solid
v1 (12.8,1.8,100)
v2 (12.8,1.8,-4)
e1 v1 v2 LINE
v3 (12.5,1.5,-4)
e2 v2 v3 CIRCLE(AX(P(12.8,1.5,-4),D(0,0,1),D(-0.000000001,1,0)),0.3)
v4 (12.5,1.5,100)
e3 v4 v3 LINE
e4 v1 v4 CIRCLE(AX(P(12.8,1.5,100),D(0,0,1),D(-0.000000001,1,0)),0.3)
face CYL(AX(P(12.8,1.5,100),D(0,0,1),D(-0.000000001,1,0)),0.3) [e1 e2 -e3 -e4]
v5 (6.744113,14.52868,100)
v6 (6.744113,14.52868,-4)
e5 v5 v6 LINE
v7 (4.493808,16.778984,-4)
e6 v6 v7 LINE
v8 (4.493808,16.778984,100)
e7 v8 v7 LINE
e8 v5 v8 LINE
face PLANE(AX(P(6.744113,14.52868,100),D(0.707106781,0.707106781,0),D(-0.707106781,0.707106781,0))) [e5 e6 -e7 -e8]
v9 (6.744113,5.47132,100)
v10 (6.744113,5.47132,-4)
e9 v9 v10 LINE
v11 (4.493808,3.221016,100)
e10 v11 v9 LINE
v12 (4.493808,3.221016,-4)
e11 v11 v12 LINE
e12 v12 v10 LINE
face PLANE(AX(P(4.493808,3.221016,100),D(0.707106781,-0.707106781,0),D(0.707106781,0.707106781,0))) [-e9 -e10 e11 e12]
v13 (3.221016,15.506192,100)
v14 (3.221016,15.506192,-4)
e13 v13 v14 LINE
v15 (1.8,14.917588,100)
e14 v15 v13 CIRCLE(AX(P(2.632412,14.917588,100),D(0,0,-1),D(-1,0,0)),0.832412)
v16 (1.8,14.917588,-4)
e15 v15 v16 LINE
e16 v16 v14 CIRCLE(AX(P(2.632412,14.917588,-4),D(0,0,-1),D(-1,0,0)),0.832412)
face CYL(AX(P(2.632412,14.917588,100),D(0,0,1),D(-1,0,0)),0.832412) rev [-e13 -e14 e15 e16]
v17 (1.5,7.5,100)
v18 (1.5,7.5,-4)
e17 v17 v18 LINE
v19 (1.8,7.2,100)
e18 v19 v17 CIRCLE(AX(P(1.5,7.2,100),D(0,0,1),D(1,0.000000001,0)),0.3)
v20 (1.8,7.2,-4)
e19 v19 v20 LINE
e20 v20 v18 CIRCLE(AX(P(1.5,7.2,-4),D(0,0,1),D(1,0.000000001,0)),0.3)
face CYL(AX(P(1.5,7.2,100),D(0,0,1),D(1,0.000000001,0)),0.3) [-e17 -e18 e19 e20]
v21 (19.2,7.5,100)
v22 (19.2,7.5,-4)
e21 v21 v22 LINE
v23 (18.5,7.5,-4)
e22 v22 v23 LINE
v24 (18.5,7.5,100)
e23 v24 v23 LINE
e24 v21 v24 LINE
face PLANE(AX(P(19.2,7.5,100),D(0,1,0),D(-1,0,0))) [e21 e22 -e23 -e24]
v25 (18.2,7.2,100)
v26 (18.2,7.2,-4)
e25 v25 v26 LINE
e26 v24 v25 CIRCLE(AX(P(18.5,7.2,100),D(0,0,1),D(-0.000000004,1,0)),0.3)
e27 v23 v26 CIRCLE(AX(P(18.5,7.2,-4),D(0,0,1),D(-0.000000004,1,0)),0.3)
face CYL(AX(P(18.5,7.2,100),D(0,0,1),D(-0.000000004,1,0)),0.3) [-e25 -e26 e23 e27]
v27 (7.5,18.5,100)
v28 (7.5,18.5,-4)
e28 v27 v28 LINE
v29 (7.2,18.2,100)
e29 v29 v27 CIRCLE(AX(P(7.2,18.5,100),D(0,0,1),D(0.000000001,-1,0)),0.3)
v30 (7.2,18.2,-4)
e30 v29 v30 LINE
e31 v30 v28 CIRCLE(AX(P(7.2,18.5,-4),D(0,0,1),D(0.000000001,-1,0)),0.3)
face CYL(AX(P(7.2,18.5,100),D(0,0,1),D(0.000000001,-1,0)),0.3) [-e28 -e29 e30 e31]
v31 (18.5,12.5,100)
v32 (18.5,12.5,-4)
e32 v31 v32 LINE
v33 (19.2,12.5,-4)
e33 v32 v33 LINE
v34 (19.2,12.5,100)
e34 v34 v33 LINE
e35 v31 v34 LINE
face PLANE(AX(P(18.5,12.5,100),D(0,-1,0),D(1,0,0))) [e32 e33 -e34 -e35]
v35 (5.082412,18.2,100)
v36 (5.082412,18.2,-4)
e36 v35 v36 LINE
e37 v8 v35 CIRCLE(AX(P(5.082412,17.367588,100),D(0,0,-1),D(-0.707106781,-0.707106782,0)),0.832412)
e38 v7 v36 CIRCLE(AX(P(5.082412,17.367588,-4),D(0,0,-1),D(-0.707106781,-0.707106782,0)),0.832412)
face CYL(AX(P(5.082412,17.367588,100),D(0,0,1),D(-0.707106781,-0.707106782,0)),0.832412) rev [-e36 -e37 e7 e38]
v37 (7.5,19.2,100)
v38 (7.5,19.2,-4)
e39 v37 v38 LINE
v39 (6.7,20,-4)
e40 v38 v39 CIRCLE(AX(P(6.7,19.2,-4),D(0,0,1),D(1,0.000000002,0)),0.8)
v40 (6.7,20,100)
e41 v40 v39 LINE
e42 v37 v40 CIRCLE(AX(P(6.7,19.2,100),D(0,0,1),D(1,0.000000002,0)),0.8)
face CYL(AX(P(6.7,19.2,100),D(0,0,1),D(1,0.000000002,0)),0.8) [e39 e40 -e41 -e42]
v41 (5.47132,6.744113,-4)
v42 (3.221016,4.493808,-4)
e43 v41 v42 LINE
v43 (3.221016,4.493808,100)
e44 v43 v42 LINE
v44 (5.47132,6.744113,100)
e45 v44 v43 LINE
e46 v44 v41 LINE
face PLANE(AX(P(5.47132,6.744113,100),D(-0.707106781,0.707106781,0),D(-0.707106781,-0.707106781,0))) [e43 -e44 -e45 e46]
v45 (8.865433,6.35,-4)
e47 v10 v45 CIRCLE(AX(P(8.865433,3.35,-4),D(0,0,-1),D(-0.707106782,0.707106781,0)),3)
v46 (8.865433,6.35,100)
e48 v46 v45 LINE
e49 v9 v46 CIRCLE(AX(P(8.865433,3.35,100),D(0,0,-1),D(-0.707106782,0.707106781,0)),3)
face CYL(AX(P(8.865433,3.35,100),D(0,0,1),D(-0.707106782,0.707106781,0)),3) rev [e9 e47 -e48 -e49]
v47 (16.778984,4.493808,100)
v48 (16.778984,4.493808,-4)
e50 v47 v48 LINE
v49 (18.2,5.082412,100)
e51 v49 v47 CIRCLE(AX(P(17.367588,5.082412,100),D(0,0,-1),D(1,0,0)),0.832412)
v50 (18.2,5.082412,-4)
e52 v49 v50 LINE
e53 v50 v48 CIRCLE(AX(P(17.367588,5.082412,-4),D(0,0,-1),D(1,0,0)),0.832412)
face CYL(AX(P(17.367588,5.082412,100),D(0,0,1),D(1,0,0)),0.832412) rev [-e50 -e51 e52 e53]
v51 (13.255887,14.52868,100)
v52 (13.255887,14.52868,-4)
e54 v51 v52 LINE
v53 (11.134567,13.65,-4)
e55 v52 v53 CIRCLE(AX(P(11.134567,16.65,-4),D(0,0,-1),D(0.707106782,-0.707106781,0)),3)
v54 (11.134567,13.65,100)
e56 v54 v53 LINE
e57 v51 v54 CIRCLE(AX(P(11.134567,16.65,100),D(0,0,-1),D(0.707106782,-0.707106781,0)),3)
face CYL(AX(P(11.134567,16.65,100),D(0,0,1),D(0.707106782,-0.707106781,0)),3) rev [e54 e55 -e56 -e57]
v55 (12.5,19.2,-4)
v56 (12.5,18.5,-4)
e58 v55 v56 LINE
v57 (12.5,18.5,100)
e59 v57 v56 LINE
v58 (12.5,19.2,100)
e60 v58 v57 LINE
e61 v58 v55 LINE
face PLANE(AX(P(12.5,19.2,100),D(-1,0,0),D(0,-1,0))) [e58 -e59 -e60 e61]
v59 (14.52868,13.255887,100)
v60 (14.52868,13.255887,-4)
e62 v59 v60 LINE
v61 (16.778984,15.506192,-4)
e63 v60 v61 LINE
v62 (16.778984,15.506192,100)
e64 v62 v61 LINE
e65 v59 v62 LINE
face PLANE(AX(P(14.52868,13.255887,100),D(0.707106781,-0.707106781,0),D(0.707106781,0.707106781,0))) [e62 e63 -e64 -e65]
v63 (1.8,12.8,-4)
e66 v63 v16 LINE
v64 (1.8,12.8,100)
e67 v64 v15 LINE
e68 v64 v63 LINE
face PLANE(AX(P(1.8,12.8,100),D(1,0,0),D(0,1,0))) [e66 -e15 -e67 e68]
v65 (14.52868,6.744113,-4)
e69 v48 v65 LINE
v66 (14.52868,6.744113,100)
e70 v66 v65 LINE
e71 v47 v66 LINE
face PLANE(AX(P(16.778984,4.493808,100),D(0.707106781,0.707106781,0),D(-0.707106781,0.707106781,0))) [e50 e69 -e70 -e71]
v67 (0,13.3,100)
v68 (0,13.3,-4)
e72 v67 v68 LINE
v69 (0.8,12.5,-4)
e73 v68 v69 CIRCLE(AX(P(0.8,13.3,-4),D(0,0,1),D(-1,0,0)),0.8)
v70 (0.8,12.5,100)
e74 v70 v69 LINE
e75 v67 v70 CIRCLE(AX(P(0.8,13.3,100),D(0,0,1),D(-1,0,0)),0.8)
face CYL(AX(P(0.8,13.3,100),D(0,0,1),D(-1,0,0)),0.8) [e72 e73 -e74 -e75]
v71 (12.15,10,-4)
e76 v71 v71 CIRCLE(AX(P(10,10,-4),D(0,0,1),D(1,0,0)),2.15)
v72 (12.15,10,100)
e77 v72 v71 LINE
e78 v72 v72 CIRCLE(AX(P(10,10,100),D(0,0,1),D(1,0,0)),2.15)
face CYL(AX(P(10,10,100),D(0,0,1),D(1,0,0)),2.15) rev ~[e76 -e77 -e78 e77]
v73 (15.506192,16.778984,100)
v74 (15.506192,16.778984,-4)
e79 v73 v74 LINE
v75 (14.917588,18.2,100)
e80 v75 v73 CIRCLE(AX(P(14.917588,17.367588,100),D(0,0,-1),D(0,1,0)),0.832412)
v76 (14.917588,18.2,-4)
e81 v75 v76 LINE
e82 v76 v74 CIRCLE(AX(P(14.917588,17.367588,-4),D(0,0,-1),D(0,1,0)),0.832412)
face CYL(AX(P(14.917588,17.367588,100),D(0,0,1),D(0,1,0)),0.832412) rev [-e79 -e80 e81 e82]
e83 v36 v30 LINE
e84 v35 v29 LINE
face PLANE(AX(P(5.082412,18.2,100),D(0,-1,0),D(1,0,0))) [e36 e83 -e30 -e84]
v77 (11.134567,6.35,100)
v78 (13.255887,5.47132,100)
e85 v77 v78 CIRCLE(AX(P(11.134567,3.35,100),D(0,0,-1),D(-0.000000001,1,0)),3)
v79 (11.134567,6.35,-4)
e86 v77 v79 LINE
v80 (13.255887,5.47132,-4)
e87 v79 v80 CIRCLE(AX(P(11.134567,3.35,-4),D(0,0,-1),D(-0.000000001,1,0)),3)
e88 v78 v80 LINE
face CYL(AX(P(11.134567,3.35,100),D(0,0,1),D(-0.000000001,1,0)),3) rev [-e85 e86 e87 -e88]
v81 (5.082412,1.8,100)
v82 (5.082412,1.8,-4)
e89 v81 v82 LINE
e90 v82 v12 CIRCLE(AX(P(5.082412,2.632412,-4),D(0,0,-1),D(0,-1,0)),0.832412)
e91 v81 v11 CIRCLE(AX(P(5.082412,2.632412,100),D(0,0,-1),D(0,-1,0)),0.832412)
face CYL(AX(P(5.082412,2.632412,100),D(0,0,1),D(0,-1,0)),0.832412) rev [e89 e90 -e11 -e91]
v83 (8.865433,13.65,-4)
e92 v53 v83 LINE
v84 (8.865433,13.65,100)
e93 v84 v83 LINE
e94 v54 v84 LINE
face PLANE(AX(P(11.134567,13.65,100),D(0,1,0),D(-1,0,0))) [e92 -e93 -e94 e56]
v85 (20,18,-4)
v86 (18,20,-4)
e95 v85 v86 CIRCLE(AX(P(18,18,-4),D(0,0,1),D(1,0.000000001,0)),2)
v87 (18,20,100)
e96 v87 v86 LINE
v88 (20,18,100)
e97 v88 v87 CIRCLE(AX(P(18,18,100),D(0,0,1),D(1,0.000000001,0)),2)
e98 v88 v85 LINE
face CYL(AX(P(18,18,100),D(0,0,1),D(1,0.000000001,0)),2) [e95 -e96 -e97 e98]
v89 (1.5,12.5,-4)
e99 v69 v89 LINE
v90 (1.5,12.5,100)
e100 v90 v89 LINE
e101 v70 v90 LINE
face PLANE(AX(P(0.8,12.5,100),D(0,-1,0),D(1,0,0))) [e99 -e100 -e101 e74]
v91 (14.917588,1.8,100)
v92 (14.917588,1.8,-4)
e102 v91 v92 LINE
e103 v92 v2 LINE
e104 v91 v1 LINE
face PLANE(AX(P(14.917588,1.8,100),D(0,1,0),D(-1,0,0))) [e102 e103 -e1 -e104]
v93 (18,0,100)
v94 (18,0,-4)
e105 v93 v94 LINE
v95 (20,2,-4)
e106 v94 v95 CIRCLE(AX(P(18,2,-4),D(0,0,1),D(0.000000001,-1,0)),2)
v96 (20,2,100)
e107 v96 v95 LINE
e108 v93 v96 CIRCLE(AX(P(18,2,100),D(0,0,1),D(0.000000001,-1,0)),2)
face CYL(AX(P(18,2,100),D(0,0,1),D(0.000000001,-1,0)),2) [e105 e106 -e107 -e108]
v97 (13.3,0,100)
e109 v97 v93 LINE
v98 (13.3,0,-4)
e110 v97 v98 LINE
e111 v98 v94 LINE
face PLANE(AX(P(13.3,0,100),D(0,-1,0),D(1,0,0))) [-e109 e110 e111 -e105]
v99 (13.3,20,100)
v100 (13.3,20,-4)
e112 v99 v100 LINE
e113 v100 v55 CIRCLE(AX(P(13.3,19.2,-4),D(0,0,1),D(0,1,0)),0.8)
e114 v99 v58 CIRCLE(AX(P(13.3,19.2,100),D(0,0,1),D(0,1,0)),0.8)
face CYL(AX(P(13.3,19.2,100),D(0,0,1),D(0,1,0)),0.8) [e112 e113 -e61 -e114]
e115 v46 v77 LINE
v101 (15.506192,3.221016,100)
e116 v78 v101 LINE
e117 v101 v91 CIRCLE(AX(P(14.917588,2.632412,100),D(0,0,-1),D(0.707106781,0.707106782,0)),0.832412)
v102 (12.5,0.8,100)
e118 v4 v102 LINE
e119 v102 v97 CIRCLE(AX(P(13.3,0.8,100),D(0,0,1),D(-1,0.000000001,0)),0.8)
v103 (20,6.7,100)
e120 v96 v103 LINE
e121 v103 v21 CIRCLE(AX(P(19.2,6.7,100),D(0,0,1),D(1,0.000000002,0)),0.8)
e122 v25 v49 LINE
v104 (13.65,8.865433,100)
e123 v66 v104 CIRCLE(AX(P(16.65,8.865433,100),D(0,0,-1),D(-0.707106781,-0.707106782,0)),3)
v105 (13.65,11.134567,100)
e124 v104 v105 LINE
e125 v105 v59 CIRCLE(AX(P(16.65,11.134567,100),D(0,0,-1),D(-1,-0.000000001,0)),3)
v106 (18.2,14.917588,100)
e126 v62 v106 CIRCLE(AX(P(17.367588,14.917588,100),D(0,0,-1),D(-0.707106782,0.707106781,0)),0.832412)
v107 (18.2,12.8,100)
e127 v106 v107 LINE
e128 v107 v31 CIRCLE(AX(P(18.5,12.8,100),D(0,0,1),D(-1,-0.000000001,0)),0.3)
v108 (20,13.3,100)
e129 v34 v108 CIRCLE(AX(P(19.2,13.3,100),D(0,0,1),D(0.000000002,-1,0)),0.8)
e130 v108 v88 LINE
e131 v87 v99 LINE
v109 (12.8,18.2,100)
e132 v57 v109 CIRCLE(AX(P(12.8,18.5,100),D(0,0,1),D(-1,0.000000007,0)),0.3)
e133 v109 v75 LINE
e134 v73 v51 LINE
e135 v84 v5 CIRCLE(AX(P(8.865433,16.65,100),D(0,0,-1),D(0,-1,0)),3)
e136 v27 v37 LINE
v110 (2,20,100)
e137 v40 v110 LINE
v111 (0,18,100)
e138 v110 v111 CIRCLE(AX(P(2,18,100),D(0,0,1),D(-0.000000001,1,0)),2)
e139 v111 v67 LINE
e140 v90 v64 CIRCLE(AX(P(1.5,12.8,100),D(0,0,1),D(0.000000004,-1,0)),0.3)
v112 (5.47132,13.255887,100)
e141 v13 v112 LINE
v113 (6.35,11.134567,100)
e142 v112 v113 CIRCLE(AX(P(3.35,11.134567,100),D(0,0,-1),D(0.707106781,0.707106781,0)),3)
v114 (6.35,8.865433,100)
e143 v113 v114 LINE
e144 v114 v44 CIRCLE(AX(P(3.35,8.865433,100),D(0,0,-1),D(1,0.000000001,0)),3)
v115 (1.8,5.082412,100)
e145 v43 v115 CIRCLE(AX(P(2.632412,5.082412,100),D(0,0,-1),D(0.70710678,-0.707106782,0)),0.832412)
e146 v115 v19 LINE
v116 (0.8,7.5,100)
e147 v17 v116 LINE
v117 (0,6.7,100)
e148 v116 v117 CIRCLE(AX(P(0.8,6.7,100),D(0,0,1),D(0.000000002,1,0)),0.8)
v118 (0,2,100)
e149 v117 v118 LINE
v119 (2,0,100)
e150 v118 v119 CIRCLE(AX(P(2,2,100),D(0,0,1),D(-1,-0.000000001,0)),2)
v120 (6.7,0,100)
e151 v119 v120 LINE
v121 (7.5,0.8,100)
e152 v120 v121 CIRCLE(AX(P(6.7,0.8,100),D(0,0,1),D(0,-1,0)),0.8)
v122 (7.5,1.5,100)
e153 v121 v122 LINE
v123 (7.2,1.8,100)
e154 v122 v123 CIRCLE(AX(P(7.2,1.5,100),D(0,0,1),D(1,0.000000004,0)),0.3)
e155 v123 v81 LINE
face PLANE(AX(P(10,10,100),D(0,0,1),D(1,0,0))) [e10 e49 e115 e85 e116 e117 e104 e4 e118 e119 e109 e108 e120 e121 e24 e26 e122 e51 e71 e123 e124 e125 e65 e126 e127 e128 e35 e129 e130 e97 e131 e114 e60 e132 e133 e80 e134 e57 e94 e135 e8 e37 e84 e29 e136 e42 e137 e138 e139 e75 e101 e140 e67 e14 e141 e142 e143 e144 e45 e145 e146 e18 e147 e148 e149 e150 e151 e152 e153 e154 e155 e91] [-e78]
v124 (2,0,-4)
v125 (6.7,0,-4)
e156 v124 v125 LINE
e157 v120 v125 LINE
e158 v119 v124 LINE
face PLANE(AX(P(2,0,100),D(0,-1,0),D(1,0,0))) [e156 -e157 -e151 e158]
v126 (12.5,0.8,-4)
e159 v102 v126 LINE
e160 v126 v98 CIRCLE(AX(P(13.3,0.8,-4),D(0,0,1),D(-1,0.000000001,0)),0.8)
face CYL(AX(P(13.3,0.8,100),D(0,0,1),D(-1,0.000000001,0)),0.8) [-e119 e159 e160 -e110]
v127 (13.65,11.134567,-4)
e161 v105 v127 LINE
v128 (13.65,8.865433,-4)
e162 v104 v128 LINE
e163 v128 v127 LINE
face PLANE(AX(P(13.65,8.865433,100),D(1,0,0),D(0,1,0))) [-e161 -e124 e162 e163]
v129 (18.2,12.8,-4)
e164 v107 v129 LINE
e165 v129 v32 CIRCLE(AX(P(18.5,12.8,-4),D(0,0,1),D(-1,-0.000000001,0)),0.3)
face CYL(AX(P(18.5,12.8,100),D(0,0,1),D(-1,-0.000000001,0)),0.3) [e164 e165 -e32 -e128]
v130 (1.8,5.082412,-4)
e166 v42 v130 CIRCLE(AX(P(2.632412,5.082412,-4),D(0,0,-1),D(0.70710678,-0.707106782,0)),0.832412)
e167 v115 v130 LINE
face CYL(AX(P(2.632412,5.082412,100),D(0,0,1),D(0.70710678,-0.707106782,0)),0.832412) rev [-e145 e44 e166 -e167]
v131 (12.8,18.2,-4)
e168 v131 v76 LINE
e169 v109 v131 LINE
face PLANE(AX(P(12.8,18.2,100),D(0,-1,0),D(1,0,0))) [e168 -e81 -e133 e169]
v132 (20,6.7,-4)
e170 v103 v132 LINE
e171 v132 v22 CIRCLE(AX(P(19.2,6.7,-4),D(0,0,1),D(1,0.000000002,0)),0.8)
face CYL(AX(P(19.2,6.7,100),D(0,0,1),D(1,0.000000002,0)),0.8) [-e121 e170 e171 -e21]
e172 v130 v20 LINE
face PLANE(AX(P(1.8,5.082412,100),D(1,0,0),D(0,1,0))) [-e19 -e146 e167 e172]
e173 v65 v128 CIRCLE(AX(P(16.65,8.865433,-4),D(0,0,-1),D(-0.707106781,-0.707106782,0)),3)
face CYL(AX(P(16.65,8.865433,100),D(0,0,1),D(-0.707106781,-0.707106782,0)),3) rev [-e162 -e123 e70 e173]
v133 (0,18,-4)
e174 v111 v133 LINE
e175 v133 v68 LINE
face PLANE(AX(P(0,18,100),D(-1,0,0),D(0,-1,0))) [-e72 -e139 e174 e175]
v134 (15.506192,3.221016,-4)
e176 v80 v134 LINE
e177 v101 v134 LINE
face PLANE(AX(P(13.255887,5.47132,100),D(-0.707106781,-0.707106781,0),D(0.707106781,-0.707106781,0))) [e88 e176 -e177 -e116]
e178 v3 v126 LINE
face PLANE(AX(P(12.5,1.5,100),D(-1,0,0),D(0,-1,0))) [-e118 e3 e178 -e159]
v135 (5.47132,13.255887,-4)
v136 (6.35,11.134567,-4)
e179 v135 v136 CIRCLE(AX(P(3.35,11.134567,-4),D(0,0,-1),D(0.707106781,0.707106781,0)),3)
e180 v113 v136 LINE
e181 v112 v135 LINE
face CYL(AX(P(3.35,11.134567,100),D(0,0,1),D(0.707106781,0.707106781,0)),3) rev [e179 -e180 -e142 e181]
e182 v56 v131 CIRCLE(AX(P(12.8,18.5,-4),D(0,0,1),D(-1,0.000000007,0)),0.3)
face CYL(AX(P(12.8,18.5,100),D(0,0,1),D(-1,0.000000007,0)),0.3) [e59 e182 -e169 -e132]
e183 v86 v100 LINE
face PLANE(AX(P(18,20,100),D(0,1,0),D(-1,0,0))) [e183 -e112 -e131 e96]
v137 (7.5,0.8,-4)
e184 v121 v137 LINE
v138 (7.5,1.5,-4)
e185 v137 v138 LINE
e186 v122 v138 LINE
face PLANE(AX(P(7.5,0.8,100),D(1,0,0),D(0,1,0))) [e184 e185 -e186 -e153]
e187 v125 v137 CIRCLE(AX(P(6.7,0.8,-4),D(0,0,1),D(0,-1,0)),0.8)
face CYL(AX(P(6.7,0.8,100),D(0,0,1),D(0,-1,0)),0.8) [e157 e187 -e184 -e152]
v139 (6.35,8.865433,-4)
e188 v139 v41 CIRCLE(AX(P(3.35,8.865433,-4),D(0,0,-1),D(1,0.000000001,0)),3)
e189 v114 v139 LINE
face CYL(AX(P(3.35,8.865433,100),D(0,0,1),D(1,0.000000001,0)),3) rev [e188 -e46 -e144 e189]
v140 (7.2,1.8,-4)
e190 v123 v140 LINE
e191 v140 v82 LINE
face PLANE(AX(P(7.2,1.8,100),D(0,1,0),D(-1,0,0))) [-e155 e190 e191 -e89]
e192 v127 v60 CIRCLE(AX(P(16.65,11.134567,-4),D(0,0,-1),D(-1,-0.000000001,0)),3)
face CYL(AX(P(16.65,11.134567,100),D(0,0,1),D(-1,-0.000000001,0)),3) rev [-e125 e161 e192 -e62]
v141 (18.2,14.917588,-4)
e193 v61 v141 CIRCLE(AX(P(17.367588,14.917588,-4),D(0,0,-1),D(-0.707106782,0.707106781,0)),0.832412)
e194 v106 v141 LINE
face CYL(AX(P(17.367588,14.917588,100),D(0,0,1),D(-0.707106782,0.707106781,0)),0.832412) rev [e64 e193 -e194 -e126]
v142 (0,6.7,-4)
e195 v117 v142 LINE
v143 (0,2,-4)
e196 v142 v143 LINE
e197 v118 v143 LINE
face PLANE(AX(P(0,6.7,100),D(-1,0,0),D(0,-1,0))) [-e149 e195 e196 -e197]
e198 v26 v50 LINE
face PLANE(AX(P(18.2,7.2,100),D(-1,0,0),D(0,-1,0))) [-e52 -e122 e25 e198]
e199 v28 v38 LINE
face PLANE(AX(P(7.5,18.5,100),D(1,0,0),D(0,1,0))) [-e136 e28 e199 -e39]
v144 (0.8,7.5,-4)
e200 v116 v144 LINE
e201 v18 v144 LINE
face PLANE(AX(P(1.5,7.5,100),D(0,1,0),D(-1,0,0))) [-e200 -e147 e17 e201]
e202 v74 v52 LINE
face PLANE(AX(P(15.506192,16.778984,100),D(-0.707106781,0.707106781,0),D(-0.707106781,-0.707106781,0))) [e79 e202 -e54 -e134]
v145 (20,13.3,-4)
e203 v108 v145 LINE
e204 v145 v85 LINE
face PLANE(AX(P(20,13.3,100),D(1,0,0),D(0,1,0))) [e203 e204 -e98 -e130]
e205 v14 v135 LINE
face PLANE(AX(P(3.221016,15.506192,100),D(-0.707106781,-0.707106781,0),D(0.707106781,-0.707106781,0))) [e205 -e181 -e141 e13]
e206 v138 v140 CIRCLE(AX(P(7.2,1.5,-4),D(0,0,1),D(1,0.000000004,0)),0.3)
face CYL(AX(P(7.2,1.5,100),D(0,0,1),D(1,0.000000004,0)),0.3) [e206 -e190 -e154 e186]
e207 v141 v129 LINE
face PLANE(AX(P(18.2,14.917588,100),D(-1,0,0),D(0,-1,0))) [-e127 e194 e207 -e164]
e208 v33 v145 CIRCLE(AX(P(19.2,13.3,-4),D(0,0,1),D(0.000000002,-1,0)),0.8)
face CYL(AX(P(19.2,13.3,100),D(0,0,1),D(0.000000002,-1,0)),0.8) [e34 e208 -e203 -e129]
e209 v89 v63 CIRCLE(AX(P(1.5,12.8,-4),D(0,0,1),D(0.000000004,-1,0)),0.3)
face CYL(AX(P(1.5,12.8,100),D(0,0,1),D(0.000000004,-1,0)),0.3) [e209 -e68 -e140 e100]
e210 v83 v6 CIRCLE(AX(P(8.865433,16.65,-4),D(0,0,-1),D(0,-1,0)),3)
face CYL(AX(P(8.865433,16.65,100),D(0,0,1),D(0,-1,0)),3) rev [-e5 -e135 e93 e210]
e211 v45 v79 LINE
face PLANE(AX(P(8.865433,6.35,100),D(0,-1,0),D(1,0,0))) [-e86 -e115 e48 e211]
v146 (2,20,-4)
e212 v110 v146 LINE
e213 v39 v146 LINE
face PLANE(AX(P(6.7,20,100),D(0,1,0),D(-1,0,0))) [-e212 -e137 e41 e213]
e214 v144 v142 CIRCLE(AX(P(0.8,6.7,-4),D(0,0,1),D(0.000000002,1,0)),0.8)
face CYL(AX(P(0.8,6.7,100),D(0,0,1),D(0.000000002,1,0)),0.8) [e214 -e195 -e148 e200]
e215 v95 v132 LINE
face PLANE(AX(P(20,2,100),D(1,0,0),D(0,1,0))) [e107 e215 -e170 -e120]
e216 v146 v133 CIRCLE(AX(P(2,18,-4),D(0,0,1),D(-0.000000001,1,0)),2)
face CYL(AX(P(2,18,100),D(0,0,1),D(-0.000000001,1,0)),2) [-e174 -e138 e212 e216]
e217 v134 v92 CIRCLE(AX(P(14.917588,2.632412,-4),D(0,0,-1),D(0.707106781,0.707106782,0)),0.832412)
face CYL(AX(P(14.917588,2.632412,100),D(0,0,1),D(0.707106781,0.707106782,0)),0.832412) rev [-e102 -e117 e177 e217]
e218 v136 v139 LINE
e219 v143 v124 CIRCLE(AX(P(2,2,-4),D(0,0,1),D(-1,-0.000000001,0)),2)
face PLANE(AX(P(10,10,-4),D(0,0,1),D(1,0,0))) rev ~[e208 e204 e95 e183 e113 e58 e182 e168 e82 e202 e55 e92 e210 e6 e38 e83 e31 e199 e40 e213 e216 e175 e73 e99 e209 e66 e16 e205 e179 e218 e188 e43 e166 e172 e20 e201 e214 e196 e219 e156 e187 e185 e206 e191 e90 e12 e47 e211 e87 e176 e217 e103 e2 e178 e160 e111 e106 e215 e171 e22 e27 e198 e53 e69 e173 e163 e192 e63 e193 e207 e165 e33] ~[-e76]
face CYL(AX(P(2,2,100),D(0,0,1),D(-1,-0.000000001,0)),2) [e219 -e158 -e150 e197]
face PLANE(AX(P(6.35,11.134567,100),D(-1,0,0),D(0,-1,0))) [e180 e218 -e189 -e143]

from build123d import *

# Parameters (mm, degrees)
SKIZZE1_R                       = 2.15
AUFSATZ_LINEAR_AUSTRAGEN1_DEPTH = 104


with BuildPart() as part:
    # Skizze1 → Aufsatz-Linear austragen1 (new body)
    with BuildSketch(Plane.XY.offset(100)):
        with BuildLine():
            Line((12.499999989, 1.499999999), (12.499999989, 0.800000002))
            ThreePointArc((12.499999989, 0.800000002), (12.734314564, 0.234314576), (13.299999991, 0))
            Line((13.299999991, 0), (18, 0))
            ThreePointArc((18, 0), (19.414213562, 0.585786438), (20, 2))
            Line((20, 2), (20, 6.700000003))
            ThreePointArc((20, 6.700000003), (19.765685425, 7.265685427), (19.2, 7.500000003))
            Line((19.2, 7.500000003), (18.499999995, 7.500000003))
            ThreePointArc((18.499999995, 7.500000003), (18.287867961, 7.412132037), (18.199999995, 7.200000003))
            Line((18.199999995, 7.200000003), (18.199999995, 5.082411607))
            ThreePointArc((18.199999995, 5.082411607), (17.686138517, 4.313363558), (16.778984491, 4.493807713))
            Line((16.778984491, 4.493807713), (14.528679651, 6.744112553))
            ThreePointArc((14.528679651, 6.744112553), (13.878361397, 7.717382599), (13.649999995, 8.865432896))
            Line((13.649999995, 8.865432896), (13.649999995, 11.134567106))
            ThreePointArc((13.649999995, 11.134567106), (13.878361397, 12.282617403), (14.528679651, 13.255887449))
            Line((14.528679651, 13.255887449), (16.778984493, 15.506192291))
            ThreePointArc((16.778984493, 15.506192291), (17.686138518, 15.686636446), (18.199999995, 14.917588398))
            Line((18.199999995, 14.917588398), (18.199999995, 12.800000001))
            ThreePointArc((18.199999995, 12.800000001), (18.287867961, 12.587867966), (18.499999996, 12.5))
            Line((18.499999996, 12.5), (19.199999998, 12.5))
            ThreePointArc((19.199999998, 12.5), (19.765685424, 12.734314576), (20, 13.300000003))
            Line((20, 13.300000003), (20, 18))
            ThreePointArc((20, 18), (19.414213562, 19.414213562), (18, 20))
            Line((18, 20), (13.299999989, 20))
            ThreePointArc((13.299999989, 20), (12.734314564, 19.765685425), (12.499999989, 19.2))
            Line((12.499999989, 19.2), (12.499999989, 18.499999999))
            ThreePointArc((12.499999989, 18.499999999), (12.587867954, 18.287867964), (12.799999989, 18.199999999))
            Line((12.799999989, 18.199999999), (14.917588395, 18.199999999))
            ThreePointArc((14.917588395, 18.199999999), (15.686636445, 17.68613852), (15.50619229, 16.778984493))
            Line((15.50619229, 16.778984493), (13.255887454, 14.528679658))
            ThreePointArc((13.255887454, 14.528679658), (12.282617408, 13.878361404), (11.134567111, 13.650000002))
            Line((11.134567111, 13.650000002), (8.865432888, 13.650000002))
            ThreePointArc((8.865432888, 13.650000002), (7.717382592, 13.878361404), (6.744112546, 14.528679658))
            Line((6.744112546, 14.528679658), (4.493807706, 16.778984498))
            ThreePointArc((4.493807706, 16.778984498), (4.313363551, 17.686138522), (5.082411599, 18.199999999))
            Line((5.082411599, 18.199999999), (7.199999999, 18.199999999))
            ThreePointArc((7.199999999, 18.199999999), (7.412132034, 18.287867965), (7.5, 18.5))
            Line((7.5, 18.5), (7.5, 19.199999998))
            ThreePointArc((7.5, 19.199999998), (7.265685424, 19.765685424), (6.699999997, 20))
            Line((6.699999997, 20), (2, 20))
            ThreePointArc((2, 20), (0.585786438, 19.414213562), (0, 18))
            Line((0, 18), (0, 13.3))
            ThreePointArc((0, 13.3), (0.234314575, 12.734314575), (0.8, 12.5))
            Line((0.8, 12.5), (1.500000004, 12.5))
            ThreePointArc((1.500000004, 12.5), (1.712132038, 12.587867966), (1.800000004, 12.8))
            Line((1.800000004, 12.8), (1.800000004, 14.917588391))
            ThreePointArc((1.800000004, 14.917588391), (2.313861482, 15.68663644), (3.221015508, 15.506192285))
            Line((3.221015508, 15.506192285), (5.471320345, 13.255887449))
            ThreePointArc((5.471320345, 13.255887449), (6.121638599, 12.282617402), (6.350000001, 11.134567106))
            Line((6.350000001, 11.134567106), (6.350000001, 8.865432891))
            ThreePointArc((6.350000001, 8.865432891), (6.121638599, 7.717382594), (5.471320345, 6.744112548))
            Line((5.471320345, 6.744112548), (3.221015505, 4.493807708))
            ThreePointArc((3.221015505, 4.493807708), (2.313861481, 4.313363554), (1.800000004, 5.082411601))
            Line((1.800000004, 5.082411601), (1.800000004, 7.200000001))
            ThreePointArc((1.800000004, 7.200000001), (1.712132038, 7.412132036), (1.500000003, 7.500000002))
            Line((1.500000003, 7.500000002), (0.800000003, 7.500000002))
            ThreePointArc((0.800000003, 7.500000002), (0.234314576, 7.265685427), (0, 6.7))
            Line((0, 6.7), (0, 2))
            ThreePointArc((0, 2), (0.585786438, 0.585786438), (2, 0))
            Line((2, 0), (6.7, 0))
            ThreePointArc((6.7, 0), (7.265685425, 0.234314575), (7.5, 0.8))
            Line((7.5, 0.8), (7.5, 1.5))
            ThreePointArc((7.5, 1.5), (7.412132034, 1.712132034), (7.2, 1.8))
            Line((7.2, 1.8), (5.0824116, 1.8))
            ThreePointArc((5.0824116, 1.8), (4.313363551, 2.313861478), (4.493807706, 3.221015504))
            Line((4.493807706, 3.221015504), (6.744112546, 5.471320344))
            ThreePointArc((6.744112546, 5.471320344), (7.717382592, 6.121638598), (8.865432889, 6.35))
            Line((8.865432889, 6.35), (11.134567106, 6.35))
            ThreePointArc((11.134567106, 6.35), (12.282617403, 6.121638598), (13.255887449, 5.471320344))
            Line((13.255887449, 5.471320344), (15.506192291, 3.221015502))
            ThreePointArc((15.506192291, 3.221015502), (15.686636446, 2.313861477), (14.917588398, 1.8))
            Line((14.917588398, 1.8), (12.79999999, 1.8))
            ThreePointArc((12.79999999, 1.8), (12.587867955, 1.712132034), (12.499999989, 1.499999999))
        make_face()
        with Locations((10, 10)):
            Circle(SKIZZE1_R, mode=Mode.SUBTRACT)
    extrude(amount=-AUFSATZ_LINEAR_AUSTRAGEN1_DEPTH)


solid = part.part
